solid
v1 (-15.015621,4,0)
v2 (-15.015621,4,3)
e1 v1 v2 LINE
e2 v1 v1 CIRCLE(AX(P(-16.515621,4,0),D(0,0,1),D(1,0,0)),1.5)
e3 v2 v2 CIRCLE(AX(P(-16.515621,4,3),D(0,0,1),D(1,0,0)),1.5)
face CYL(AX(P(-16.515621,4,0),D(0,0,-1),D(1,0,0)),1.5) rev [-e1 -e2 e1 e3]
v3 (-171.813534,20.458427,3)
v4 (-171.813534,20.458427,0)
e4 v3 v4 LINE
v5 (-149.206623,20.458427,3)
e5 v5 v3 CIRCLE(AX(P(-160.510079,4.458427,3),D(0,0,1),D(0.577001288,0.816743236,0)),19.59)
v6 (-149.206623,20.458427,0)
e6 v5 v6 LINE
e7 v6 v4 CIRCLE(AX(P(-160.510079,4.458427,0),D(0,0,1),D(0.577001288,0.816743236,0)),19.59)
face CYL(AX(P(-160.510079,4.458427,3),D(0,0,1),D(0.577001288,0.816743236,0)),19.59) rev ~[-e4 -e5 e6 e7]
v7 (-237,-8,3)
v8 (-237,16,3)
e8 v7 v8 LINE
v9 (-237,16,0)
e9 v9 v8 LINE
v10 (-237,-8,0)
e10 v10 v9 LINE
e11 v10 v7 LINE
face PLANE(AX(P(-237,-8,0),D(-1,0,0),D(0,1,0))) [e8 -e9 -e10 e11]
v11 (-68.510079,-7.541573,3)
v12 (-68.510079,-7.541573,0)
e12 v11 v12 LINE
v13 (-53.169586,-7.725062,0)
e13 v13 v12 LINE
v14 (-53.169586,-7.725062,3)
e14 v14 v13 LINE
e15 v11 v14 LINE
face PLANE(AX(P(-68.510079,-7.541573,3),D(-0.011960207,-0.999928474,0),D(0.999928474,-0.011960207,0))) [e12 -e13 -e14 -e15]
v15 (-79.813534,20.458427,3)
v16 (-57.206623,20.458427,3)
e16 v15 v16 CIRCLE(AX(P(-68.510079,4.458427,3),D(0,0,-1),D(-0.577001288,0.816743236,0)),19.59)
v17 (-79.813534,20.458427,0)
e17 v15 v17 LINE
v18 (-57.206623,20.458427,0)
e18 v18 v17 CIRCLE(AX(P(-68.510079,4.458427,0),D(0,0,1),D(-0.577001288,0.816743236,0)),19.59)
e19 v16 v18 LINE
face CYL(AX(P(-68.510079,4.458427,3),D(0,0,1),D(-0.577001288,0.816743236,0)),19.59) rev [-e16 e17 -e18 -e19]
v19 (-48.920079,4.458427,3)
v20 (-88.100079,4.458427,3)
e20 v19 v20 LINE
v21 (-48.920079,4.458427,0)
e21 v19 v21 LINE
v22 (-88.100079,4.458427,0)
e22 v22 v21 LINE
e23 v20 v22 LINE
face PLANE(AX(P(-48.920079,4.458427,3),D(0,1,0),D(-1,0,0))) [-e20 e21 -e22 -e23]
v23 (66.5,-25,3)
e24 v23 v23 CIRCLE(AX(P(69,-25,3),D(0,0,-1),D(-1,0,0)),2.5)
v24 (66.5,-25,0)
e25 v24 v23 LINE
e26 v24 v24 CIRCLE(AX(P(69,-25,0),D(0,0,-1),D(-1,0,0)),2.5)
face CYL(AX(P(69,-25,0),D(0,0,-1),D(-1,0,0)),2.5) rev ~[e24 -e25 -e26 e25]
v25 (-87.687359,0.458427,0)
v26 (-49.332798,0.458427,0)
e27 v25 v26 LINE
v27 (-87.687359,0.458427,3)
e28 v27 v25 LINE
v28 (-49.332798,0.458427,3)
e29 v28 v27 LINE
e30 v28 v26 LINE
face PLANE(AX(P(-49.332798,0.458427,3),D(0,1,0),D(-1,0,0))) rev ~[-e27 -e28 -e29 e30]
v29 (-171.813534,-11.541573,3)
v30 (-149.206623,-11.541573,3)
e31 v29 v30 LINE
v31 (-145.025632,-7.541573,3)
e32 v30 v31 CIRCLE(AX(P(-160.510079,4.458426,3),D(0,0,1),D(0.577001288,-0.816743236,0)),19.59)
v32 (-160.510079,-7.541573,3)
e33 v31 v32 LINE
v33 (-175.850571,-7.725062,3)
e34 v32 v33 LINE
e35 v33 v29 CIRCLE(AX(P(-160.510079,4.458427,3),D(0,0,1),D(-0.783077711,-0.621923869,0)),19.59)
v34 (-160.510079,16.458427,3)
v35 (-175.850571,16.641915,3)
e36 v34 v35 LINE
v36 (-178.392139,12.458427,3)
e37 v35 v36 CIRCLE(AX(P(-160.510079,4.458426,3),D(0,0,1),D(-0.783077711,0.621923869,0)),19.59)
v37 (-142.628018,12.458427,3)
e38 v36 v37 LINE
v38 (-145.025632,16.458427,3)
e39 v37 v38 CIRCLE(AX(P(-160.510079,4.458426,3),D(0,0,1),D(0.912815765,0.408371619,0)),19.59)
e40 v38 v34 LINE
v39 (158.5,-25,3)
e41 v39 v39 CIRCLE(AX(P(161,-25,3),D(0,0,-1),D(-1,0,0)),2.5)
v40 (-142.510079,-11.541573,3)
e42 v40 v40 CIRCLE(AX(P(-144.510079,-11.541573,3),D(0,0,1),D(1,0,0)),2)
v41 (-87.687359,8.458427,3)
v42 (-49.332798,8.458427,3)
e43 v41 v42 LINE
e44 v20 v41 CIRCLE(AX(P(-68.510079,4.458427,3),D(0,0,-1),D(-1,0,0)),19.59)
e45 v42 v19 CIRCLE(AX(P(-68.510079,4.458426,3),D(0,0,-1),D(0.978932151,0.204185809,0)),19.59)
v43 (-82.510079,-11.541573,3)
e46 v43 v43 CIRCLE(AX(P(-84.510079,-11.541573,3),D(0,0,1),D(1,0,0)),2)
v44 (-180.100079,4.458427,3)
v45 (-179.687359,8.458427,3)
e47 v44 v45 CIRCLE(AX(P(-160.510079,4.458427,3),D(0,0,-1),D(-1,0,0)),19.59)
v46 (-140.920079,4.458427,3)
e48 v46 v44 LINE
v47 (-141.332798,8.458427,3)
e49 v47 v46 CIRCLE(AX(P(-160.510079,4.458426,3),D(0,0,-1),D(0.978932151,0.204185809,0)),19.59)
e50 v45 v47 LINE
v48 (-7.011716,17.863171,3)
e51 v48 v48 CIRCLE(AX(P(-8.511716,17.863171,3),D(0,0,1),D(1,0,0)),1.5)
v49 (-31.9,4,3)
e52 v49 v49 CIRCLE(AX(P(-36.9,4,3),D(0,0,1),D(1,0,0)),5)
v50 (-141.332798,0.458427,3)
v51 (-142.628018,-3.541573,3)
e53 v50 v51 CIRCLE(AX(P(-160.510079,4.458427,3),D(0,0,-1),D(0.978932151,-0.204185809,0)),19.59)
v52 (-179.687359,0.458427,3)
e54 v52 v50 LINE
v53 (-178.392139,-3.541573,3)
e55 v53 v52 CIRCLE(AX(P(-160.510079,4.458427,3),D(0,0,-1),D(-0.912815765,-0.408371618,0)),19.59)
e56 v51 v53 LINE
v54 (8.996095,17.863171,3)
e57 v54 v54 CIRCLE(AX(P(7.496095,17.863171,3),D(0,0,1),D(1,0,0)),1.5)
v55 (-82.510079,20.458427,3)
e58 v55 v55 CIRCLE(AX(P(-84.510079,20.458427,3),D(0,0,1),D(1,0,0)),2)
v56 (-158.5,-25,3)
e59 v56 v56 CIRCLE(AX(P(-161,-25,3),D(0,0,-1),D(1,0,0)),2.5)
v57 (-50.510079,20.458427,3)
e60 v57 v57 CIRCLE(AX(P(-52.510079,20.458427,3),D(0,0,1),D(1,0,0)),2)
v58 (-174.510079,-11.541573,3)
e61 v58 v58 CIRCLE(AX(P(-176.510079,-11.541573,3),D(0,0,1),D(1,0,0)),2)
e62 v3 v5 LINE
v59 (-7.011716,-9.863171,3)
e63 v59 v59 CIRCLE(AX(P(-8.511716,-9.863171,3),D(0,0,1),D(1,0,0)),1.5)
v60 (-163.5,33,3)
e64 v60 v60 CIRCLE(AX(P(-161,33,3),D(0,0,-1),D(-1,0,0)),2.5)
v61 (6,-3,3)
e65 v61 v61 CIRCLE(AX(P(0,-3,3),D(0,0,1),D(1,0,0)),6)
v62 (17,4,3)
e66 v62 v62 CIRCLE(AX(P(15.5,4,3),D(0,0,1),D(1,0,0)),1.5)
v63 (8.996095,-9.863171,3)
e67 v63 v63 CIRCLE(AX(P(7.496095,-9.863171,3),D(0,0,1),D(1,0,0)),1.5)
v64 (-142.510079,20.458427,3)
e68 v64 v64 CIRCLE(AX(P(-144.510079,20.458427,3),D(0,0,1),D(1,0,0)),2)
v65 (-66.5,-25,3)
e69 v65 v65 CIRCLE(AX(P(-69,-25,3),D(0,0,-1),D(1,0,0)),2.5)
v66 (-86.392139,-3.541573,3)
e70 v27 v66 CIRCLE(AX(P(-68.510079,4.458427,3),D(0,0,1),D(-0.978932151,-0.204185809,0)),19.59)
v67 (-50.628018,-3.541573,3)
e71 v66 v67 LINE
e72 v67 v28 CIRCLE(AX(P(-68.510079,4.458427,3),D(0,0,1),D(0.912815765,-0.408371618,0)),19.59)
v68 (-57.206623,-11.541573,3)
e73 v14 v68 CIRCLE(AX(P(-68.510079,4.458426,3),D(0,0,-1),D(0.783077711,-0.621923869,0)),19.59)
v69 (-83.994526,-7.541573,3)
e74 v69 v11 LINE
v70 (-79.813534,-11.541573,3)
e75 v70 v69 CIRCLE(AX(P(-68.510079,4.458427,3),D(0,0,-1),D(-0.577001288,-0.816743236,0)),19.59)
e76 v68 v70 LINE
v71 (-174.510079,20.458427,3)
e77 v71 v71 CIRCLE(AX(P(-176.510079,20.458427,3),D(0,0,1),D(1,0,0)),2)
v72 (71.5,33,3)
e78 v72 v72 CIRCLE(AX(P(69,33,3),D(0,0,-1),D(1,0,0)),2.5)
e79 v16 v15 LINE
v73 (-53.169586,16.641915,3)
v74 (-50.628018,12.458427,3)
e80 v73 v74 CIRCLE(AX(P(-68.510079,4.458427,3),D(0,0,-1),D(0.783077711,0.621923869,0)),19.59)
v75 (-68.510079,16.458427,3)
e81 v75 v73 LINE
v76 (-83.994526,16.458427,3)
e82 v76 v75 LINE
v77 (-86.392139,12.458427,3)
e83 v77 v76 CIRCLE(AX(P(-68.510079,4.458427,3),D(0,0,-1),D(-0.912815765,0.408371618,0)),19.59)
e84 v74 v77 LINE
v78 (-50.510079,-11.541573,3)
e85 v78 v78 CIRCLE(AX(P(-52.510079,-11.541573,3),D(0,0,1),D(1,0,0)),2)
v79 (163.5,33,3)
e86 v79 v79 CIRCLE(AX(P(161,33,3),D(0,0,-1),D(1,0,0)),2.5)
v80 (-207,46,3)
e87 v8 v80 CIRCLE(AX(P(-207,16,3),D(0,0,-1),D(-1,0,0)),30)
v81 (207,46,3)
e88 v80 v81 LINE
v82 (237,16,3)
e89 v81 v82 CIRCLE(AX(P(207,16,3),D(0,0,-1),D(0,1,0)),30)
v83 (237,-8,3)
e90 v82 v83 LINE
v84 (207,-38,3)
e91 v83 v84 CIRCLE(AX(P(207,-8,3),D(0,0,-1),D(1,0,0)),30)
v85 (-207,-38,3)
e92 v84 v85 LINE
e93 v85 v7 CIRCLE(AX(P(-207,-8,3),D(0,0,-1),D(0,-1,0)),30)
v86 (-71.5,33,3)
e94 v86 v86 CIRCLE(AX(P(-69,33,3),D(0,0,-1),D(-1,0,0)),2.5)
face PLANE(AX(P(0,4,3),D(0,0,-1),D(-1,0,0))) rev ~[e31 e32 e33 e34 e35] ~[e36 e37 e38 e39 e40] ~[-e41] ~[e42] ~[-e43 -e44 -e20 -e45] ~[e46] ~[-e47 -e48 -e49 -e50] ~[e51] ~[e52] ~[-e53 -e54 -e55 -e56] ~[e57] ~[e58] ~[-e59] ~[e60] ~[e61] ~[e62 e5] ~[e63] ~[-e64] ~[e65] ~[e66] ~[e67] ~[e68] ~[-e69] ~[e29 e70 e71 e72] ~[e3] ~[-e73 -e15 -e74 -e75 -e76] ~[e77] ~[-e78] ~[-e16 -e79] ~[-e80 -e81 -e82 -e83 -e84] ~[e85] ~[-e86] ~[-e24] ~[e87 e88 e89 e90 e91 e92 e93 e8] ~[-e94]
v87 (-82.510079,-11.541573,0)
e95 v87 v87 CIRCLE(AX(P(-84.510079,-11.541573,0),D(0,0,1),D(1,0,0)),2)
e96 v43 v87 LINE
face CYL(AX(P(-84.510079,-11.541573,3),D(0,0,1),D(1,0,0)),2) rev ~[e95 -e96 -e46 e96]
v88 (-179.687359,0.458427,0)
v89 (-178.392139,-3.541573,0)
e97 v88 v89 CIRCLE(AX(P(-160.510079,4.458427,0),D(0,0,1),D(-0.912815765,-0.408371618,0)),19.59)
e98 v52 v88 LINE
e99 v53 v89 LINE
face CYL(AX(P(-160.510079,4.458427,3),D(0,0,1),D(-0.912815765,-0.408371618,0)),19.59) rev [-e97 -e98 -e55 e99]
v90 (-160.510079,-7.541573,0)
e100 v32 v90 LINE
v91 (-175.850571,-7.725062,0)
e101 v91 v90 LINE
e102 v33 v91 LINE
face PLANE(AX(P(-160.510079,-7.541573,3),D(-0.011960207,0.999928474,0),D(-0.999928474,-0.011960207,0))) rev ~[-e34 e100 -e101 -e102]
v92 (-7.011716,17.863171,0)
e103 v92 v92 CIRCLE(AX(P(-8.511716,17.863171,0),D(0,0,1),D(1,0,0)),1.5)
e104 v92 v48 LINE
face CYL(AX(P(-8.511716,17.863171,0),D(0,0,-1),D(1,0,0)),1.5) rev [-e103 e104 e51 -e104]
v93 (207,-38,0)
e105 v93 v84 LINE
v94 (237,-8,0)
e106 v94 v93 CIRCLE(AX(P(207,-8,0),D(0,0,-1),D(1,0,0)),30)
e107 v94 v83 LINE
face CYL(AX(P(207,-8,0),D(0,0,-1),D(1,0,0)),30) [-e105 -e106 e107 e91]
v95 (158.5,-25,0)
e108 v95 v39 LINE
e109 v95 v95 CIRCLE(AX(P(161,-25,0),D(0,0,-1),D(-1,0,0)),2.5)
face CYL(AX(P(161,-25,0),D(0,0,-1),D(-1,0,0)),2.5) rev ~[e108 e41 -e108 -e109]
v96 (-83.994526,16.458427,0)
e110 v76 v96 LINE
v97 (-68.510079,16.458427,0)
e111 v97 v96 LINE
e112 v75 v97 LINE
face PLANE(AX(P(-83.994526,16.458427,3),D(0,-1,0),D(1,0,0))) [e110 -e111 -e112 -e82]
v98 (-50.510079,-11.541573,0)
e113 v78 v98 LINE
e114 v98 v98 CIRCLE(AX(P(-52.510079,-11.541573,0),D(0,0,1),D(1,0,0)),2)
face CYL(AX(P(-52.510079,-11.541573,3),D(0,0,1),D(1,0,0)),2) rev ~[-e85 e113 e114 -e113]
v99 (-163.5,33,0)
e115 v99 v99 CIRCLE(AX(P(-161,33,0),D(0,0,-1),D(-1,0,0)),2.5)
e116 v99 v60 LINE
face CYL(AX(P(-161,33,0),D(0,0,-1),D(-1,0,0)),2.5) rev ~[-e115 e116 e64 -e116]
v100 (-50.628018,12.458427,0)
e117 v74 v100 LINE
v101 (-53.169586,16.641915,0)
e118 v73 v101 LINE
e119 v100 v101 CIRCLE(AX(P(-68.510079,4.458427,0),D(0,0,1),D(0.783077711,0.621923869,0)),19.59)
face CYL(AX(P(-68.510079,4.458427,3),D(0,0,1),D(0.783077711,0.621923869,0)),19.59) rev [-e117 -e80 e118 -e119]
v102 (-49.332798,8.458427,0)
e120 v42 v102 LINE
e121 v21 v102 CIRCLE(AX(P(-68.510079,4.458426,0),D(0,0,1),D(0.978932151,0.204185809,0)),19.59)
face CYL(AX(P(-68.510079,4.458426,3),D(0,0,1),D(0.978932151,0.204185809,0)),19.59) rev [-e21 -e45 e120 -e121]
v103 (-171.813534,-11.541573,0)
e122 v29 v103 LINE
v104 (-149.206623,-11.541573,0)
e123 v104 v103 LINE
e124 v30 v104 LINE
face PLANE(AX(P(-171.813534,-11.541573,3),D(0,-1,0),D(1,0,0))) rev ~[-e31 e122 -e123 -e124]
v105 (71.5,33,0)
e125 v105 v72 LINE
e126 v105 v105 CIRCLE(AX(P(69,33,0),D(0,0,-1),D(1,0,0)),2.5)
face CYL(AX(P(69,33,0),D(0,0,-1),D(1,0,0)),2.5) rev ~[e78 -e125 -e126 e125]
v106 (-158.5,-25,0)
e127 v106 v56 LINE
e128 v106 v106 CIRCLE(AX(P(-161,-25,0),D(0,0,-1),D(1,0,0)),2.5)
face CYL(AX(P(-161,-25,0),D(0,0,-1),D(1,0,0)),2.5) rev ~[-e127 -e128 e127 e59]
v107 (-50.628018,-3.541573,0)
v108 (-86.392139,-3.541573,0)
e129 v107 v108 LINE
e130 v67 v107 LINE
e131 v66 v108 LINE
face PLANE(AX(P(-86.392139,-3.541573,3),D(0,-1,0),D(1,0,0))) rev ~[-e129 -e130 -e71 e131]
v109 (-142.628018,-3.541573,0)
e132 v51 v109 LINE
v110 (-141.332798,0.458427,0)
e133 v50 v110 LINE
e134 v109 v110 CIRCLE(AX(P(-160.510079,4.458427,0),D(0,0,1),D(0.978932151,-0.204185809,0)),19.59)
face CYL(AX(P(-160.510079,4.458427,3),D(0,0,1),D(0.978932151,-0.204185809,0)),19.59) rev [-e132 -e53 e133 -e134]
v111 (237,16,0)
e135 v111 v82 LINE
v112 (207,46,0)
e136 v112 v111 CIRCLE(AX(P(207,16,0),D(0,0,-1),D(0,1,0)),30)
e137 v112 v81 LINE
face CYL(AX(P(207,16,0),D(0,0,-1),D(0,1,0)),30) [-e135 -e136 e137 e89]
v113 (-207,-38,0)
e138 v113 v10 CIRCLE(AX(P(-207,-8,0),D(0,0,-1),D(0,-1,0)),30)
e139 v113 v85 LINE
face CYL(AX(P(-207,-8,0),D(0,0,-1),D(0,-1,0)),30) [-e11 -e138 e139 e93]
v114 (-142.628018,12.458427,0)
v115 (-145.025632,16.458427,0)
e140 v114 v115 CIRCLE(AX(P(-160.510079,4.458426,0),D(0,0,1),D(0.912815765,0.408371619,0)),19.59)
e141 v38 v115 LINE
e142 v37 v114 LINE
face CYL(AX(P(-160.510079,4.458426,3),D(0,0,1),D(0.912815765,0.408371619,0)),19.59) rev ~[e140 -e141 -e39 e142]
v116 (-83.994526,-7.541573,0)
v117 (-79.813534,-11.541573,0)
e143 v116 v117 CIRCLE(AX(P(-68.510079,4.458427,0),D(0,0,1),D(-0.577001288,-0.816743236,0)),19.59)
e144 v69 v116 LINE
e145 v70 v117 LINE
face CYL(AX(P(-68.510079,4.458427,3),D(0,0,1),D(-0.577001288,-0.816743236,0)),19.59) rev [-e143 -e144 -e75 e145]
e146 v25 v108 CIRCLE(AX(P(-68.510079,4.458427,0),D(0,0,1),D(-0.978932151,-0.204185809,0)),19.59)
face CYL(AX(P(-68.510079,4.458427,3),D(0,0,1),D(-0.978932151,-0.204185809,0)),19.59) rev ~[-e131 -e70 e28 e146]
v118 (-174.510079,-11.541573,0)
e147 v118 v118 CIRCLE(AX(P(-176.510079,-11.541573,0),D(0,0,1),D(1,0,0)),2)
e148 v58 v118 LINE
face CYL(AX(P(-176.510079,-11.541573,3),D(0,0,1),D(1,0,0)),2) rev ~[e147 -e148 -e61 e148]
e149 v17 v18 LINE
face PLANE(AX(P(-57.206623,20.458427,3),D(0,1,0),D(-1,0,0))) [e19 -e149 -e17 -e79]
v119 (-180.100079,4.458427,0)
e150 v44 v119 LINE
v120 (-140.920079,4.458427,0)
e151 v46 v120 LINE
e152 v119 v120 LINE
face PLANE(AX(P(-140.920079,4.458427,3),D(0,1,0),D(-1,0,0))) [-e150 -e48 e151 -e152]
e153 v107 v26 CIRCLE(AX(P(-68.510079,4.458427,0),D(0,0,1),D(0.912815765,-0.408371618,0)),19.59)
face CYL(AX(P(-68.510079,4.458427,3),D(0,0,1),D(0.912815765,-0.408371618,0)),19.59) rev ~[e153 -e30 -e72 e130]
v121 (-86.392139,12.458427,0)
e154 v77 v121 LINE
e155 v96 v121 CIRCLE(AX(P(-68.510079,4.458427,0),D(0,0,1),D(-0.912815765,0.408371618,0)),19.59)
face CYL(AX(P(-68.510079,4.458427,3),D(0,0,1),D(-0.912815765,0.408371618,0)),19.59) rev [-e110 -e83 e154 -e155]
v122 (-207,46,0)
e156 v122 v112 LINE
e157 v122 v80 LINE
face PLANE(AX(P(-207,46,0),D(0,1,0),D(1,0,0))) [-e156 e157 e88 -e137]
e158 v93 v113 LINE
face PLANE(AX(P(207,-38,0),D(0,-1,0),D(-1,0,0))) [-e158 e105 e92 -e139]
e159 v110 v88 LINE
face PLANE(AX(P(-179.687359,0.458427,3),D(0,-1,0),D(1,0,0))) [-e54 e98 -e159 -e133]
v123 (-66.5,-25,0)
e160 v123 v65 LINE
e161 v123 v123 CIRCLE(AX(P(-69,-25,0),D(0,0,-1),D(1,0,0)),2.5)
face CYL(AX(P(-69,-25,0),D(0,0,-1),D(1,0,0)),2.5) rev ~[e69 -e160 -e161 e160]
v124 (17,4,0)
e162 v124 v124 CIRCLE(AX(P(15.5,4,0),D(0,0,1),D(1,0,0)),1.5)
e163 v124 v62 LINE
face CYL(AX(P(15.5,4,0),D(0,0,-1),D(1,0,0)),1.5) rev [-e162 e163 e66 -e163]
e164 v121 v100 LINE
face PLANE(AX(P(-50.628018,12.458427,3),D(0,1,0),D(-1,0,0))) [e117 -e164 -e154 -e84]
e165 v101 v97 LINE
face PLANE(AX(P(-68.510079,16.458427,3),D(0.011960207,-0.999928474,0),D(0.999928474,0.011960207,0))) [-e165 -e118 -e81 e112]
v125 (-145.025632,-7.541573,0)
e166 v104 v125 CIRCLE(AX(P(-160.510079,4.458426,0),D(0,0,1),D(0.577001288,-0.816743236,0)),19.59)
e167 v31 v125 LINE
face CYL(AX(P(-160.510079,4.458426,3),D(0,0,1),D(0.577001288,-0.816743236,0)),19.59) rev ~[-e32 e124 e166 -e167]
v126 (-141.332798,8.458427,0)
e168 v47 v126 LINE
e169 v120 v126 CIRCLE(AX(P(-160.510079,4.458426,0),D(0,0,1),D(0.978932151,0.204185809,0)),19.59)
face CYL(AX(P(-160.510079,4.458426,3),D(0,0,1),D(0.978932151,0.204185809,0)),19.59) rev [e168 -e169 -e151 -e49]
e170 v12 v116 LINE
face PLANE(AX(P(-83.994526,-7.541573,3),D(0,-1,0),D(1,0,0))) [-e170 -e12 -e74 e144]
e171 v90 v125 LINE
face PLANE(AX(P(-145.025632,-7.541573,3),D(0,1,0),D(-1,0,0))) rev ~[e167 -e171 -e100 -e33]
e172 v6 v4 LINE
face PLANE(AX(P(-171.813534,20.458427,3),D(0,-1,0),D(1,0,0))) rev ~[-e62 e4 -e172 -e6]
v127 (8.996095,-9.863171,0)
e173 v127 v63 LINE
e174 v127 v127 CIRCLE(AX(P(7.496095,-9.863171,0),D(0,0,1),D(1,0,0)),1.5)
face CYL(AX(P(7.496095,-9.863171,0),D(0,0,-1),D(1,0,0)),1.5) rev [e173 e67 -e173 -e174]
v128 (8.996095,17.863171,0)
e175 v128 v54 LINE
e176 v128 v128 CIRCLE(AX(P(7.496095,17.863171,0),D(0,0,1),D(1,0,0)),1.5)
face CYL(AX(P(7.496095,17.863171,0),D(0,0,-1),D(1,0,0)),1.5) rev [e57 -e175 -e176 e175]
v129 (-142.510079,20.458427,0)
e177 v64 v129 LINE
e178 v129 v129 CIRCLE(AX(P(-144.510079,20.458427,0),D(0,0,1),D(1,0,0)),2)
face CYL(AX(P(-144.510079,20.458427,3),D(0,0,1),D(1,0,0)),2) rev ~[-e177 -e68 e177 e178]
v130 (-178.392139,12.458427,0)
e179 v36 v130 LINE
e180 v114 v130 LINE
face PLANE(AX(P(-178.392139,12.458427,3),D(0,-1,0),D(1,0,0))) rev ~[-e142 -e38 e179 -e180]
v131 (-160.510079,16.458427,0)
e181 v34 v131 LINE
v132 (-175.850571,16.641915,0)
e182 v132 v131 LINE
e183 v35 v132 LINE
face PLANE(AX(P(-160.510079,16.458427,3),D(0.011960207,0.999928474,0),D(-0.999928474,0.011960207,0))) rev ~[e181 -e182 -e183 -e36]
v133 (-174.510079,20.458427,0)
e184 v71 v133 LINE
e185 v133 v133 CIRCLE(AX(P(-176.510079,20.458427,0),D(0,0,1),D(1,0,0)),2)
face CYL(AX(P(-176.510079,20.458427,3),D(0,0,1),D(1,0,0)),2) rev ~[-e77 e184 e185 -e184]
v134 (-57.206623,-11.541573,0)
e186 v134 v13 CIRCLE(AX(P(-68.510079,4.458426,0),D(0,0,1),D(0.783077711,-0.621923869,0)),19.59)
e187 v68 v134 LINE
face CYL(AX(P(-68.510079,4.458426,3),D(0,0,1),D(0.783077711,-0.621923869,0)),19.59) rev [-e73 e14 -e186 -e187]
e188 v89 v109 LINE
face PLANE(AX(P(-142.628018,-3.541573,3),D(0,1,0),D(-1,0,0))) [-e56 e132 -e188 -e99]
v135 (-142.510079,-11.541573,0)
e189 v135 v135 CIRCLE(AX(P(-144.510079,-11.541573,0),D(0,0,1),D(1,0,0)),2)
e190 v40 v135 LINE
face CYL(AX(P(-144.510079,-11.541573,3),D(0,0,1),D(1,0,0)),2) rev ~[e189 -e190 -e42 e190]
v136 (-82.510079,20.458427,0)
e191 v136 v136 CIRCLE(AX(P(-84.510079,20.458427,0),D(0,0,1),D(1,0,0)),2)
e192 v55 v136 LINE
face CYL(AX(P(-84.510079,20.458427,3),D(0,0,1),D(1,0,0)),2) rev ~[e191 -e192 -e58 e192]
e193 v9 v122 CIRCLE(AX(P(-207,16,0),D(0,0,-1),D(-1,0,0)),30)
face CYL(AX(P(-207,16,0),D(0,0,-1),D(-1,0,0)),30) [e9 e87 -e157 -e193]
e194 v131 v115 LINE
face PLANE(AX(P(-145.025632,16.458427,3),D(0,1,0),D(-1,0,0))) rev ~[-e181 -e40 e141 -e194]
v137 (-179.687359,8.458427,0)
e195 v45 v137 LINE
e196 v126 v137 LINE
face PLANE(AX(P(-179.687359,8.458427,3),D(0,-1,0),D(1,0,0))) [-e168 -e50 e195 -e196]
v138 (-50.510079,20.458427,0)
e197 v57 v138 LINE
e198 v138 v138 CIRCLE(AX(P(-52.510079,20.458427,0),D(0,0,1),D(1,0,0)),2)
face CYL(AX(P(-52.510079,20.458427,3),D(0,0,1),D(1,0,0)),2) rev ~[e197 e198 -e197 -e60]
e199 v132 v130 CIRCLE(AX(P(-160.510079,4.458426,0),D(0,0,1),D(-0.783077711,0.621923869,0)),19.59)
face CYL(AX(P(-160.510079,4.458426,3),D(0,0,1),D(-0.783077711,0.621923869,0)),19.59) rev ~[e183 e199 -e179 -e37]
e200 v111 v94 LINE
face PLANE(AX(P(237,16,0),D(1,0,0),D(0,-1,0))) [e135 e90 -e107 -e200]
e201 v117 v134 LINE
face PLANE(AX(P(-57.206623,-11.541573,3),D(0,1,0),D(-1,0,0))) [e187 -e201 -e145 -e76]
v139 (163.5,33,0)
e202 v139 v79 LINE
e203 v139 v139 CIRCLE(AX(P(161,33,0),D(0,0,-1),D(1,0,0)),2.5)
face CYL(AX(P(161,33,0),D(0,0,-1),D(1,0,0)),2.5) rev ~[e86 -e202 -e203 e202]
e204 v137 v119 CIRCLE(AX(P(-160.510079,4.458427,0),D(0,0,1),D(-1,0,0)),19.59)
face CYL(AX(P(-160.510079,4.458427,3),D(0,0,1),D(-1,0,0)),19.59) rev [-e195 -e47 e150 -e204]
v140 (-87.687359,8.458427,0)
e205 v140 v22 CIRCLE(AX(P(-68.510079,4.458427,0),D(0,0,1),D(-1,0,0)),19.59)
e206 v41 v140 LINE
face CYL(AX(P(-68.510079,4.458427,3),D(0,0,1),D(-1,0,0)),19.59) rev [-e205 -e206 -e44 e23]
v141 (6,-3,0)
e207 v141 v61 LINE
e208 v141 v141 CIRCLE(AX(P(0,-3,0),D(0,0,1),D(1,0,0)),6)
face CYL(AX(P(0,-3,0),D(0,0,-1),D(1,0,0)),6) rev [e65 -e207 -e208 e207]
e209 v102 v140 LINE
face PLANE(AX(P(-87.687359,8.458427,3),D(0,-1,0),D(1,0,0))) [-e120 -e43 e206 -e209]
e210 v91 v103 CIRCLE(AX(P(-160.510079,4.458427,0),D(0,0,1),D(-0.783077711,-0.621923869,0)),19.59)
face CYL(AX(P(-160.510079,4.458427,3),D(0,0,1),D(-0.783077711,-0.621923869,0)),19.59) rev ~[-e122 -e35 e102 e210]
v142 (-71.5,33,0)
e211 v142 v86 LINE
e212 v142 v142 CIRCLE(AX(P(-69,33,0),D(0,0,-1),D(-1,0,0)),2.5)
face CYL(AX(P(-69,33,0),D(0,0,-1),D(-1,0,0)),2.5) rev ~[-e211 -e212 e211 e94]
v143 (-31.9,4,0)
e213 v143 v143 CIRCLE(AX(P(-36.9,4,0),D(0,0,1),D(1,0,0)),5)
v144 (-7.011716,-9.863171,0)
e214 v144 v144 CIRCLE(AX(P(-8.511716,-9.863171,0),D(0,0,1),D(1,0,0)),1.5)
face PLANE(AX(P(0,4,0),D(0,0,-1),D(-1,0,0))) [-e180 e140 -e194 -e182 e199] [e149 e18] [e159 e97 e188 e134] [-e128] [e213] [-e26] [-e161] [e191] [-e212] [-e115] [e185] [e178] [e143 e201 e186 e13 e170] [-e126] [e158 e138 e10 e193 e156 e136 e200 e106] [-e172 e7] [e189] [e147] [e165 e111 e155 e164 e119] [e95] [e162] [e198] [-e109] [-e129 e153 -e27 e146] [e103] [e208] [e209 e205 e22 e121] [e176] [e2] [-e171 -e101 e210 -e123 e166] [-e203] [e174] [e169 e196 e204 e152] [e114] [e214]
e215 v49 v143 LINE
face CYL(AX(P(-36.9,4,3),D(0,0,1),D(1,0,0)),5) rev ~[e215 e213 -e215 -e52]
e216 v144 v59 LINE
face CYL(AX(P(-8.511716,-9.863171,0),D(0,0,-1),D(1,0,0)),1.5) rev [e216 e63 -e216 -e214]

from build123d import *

# Parameters (mm, degrees)
CROQUIS1_R              = 1.5
CROQUIS1_R_2            = 6
SALIENTE_EXTRUIR1_DEPTH = 3
CROQUIS3_R              = 2
CORTAR_EXTRUIR1_DEPTH   = 10
CROQUIS4_R              = 5
CORTAR_EXTRUIR2_DEPTH   = 5
CROQUIS5_R              = 2.5
CORTAR_EXTRUIR3_DEPTH   = 10


with BuildPart() as part:
    # Croquis1 → Saliente-Extruir1 (new body)
    with BuildSketch(Plane.XY):
        with BuildLine():
            Line((207, -38), (-207, -38))
            ThreePointArc((-207, -38), (-228.213203436, -29.213203436), (-237, -8))
            Line((-237, -8), (-237, 16))
            ThreePointArc((-237, 16), (-228.213203436, 37.213203436), (-207, 46))
            Line((-207, 46), (207, 46))
            ThreePointArc((207, 46), (228.213203436, 37.213203436), (237, 16))
            Line((237, 16), (237, -8))
            ThreePointArc((237, -8), (228.213203436, -29.213203436), (207, -38))
        make_face()
        with Locations((15.5, 4)):
            Circle(CROQUIS1_R, mode=Mode.SUBTRACT)
        with Locations((7.496094703, -9.863170633)):
            Circle(CROQUIS1_R, mode=Mode.SUBTRACT)
        with Locations((-8.51171589, -9.863170633)):
            Circle(CROQUIS1_R, mode=Mode.SUBTRACT)
        with Locations((-16.515621187, 4)):
            Circle(CROQUIS1_R, mode=Mode.SUBTRACT)
        with Locations((-8.51171589, 17.863170633)):
            Circle(CROQUIS1_R, mode=Mode.SUBTRACT)
        with Locations((7.496094703, 17.863170633)):
            Circle(CROQUIS1_R, mode=Mode.SUBTRACT)
        with Locations((0, -3)):
            Circle(CROQUIS1_R_2, mode=Mode.SUBTRACT)
    extrude(amount=SALIENTE_EXTRUIR1_DEPTH)

    # Croquis3 → Cortar-Extruir1 (cut)
    with BuildSketch(Plane.XY.offset(3)):
        with Locations((-176.510078636, 20.458426503)):
            Circle(CROQUIS3_R)
        with Locations((-144.510078636, 20.458426503)):
            Circle(CROQUIS3_R)
        with Locations((-176.510078636, -11.541573497)):
            Circle(CROQUIS3_R)
        with Locations((-144.510078636, -11.541573497)):
            Circle(CROQUIS3_R)
        with Locations((-84.510078636, -11.541573497)):
            Circle(CROQUIS3_R)
        with Locations((-52.510078636, -11.541573497)):
            Circle(CROQUIS3_R)
        with Locations((-84.510078636, 20.458426503)):
            Circle(CROQUIS3_R)
        with Locations((-52.510078636, 20.458426503)):
            Circle(CROQUIS3_R)
        with BuildLine():
            Line((-171.81353386, -11.541573497), (-149.206623412, -11.541573497))
            ThreePointArc((-149.206623412, -11.541573497), (-146.967629564, -9.696790667), (-145.025631601, -7.541573497))
            Line((-145.025631601, -7.541573497), (-160.510078636, -7.541573497))
            Line((-160.510078636, -7.541573497), (-175.850570995, -7.725062086))
            ThreePointArc((-175.850570995, -7.725062086), (-173.968028908, -9.777151268), (-171.81353386, -11.541573497))
        make_face()
        with BuildLine():
            Line((-160.510078636, 8.458426503), (-141.332797807, 8.458426503))
            ThreePointArc((-141.332797807, 8.458426503), (-141.023531592, 6.469044388), (-140.920078636, 4.458426503))
            Line((-140.920078636, 4.458426503), (-180.100078636, 4.458426503))
            ThreePointArc((-180.100078636, 4.458426503), (-179.996625681, 6.469044388), (-179.687359465, 8.458426503))
            Line((-179.687359465, 8.458426503), (-160.510078636, 8.458426503))
        make_face()
        with BuildLine():
            Line((-160.510078636, 12.458426503), (-142.628017793, 12.458426503))
            ThreePointArc((-142.628017793, 12.458426503), (-143.707371652, 14.53002707), (-145.025631601, 16.458426503))
            Line((-145.025631601, 16.458426503), (-160.510078636, 16.458426503))
            Line((-160.510078636, 16.458426503), (-175.850570995, 16.641915092))
            ThreePointArc((-175.850570995, 16.641915092), (-177.252536774, 14.629866691), (-178.392139479, 12.458426503))
            Line((-178.392139479, 12.458426503), (-160.510078636, 12.458426503))
        make_face()
        with BuildLine():
            Line((-160.510078636, 0.458426503), (-141.332797807, 0.458426503))
            ThreePointArc((-141.332797807, 0.458426503), (-141.872785343, -1.576422186), (-142.628017793, -3.541573497))
            Line((-142.628017793, -3.541573497), (-160.510078636, -3.541573497))
            Line((-160.510078636, -3.541573497), (-178.392139479, -3.541573497))
            ThreePointArc((-178.392139479, -3.541573497), (-179.147371929, -1.576422186), (-179.687359465, 0.458426503))
            Line((-179.687359465, 0.458426503), (-160.510078636, 0.458426503))
        make_face()
        with BuildLine():
            Line((-171.81353386, 20.458426503), (-149.206623412, 20.458426503))
            ThreePointArc((-149.206623412, 20.458426503), (-160.510078636, 24.048426503), (-171.81353386, 20.458426503))
        make_face()
        with BuildLine():
            Line((-57.206623412, 20.458426503), (-79.81353386, 20.458426503))
            ThreePointArc((-79.81353386, 20.458426503), (-68.510078636, 24.048426503), (-57.206623412, 20.458426503))
        make_face()
        with BuildLine():
            Line((-68.510078636, -7.541573497), (-53.169586278, -7.725062086))
            ThreePointArc((-53.169586278, -7.725062086), (-55.052128364, -9.777151268), (-57.206623412, -11.541573497))
            Line((-57.206623412, -11.541573497), (-79.81353386, -11.541573497))
            ThreePointArc((-79.81353386, -11.541573497), (-82.052527708, -9.696790667), (-83.994525672, -7.541573497))
            Line((-83.994525672, -7.541573497), (-68.510078636, -7.541573497))
        make_face()
        with BuildLine():
            Line((-68.510078636, -3.541573497), (-50.628017793, -3.541573497))
            ThreePointArc((-50.628017793, -3.541573497), (-49.872785343, -1.576422186), (-49.332797807, 0.458426503))
            Line((-49.332797807, 0.458426503), (-68.510078636, 0.458426503))
            Line((-68.510078636, 0.458426503), (-87.687359465, 0.458426503))
            ThreePointArc((-87.687359465, 0.458426503), (-87.147371929, -1.576422186), (-86.392139479, -3.541573497))
            Line((-86.392139479, -3.541573497), (-68.510078636, -3.541573497))
        make_face()
        with BuildLine():
            Line((-68.510078636, 16.458426503), (-53.169586278, 16.641915092))
            ThreePointArc((-53.169586278, 16.641915092), (-51.767620498, 14.629866691), (-50.628017793, 12.458426503))
            Line((-50.628017793, 12.458426503), (-68.510078636, 12.458426503))
            Line((-68.510078636, 12.458426503), (-86.392139479, 12.458426503))
            ThreePointArc((-86.392139479, 12.458426503), (-85.312785621, 14.53002707), (-83.994525672, 16.458426503))
            Line((-83.994525672, 16.458426503), (-68.510078636, 16.458426503))
        make_face()
        with BuildLine():
            Line((-68.510078636, 8.458426503), (-49.332797807, 8.458426503))
            ThreePointArc((-49.332797807, 8.458426503), (-49.023531592, 6.469044388), (-48.920078636, 4.458426503))
            Line((-48.920078636, 4.458426503), (-88.100078636, 4.458426503))
            ThreePointArc((-88.100078636, 4.458426503), (-87.996625681, 6.469044388), (-87.687359465, 8.458426503))
            Line((-87.687359465, 8.458426503), (-68.510078636, 8.458426503))
        make_face()
    extrude(amount=-CORTAR_EXTRUIR1_DEPTH, mode=Mode.SUBTRACT)

    # Croquis4 → Cortar-Extruir2 (cut)
    with BuildSketch(Plane.XY.offset(3)):
        with Locations((-36.9, 4)):
            Circle(CROQUIS4_R)
    extrude(amount=-CORTAR_EXTRUIR2_DEPTH, mode=Mode.SUBTRACT)

    # Croquis5 → Cortar-Extruir3 (cut)
    with BuildSketch(Plane(origin=(0, 0, 0), x_dir=(-1, 0, 0), z_dir=(0, 0, -1))):
        with Locations((69, 33)):
            Circle(CROQUIS5_R)
        with Locations((161, 33)):
            Circle(CROQUIS5_R)
        with Locations(Location((161, -25, 0), (0, 0, 180))):
            Circle(CROQUIS5_R)
        with Locations(Location((69, -25, 0), (0, 0, 180))):
            Circle(CROQUIS5_R)
        with Locations((-69, -25)):
            Circle(CROQUIS5_R)
        with Locations((-161, -25)):
            Circle(CROQUIS5_R)
        with Locations(Location((-161, 33, 0), (0, 0, 180))):
            Circle(CROQUIS5_R)
        with Locations(Location((-69, 33, 0), (0, 0, 180))):
            Circle(CROQUIS5_R)
    extrude(amount=-CORTAR_EXTRUIR3_DEPTH, mode=Mode.SUBTRACT)


solid = part.part
